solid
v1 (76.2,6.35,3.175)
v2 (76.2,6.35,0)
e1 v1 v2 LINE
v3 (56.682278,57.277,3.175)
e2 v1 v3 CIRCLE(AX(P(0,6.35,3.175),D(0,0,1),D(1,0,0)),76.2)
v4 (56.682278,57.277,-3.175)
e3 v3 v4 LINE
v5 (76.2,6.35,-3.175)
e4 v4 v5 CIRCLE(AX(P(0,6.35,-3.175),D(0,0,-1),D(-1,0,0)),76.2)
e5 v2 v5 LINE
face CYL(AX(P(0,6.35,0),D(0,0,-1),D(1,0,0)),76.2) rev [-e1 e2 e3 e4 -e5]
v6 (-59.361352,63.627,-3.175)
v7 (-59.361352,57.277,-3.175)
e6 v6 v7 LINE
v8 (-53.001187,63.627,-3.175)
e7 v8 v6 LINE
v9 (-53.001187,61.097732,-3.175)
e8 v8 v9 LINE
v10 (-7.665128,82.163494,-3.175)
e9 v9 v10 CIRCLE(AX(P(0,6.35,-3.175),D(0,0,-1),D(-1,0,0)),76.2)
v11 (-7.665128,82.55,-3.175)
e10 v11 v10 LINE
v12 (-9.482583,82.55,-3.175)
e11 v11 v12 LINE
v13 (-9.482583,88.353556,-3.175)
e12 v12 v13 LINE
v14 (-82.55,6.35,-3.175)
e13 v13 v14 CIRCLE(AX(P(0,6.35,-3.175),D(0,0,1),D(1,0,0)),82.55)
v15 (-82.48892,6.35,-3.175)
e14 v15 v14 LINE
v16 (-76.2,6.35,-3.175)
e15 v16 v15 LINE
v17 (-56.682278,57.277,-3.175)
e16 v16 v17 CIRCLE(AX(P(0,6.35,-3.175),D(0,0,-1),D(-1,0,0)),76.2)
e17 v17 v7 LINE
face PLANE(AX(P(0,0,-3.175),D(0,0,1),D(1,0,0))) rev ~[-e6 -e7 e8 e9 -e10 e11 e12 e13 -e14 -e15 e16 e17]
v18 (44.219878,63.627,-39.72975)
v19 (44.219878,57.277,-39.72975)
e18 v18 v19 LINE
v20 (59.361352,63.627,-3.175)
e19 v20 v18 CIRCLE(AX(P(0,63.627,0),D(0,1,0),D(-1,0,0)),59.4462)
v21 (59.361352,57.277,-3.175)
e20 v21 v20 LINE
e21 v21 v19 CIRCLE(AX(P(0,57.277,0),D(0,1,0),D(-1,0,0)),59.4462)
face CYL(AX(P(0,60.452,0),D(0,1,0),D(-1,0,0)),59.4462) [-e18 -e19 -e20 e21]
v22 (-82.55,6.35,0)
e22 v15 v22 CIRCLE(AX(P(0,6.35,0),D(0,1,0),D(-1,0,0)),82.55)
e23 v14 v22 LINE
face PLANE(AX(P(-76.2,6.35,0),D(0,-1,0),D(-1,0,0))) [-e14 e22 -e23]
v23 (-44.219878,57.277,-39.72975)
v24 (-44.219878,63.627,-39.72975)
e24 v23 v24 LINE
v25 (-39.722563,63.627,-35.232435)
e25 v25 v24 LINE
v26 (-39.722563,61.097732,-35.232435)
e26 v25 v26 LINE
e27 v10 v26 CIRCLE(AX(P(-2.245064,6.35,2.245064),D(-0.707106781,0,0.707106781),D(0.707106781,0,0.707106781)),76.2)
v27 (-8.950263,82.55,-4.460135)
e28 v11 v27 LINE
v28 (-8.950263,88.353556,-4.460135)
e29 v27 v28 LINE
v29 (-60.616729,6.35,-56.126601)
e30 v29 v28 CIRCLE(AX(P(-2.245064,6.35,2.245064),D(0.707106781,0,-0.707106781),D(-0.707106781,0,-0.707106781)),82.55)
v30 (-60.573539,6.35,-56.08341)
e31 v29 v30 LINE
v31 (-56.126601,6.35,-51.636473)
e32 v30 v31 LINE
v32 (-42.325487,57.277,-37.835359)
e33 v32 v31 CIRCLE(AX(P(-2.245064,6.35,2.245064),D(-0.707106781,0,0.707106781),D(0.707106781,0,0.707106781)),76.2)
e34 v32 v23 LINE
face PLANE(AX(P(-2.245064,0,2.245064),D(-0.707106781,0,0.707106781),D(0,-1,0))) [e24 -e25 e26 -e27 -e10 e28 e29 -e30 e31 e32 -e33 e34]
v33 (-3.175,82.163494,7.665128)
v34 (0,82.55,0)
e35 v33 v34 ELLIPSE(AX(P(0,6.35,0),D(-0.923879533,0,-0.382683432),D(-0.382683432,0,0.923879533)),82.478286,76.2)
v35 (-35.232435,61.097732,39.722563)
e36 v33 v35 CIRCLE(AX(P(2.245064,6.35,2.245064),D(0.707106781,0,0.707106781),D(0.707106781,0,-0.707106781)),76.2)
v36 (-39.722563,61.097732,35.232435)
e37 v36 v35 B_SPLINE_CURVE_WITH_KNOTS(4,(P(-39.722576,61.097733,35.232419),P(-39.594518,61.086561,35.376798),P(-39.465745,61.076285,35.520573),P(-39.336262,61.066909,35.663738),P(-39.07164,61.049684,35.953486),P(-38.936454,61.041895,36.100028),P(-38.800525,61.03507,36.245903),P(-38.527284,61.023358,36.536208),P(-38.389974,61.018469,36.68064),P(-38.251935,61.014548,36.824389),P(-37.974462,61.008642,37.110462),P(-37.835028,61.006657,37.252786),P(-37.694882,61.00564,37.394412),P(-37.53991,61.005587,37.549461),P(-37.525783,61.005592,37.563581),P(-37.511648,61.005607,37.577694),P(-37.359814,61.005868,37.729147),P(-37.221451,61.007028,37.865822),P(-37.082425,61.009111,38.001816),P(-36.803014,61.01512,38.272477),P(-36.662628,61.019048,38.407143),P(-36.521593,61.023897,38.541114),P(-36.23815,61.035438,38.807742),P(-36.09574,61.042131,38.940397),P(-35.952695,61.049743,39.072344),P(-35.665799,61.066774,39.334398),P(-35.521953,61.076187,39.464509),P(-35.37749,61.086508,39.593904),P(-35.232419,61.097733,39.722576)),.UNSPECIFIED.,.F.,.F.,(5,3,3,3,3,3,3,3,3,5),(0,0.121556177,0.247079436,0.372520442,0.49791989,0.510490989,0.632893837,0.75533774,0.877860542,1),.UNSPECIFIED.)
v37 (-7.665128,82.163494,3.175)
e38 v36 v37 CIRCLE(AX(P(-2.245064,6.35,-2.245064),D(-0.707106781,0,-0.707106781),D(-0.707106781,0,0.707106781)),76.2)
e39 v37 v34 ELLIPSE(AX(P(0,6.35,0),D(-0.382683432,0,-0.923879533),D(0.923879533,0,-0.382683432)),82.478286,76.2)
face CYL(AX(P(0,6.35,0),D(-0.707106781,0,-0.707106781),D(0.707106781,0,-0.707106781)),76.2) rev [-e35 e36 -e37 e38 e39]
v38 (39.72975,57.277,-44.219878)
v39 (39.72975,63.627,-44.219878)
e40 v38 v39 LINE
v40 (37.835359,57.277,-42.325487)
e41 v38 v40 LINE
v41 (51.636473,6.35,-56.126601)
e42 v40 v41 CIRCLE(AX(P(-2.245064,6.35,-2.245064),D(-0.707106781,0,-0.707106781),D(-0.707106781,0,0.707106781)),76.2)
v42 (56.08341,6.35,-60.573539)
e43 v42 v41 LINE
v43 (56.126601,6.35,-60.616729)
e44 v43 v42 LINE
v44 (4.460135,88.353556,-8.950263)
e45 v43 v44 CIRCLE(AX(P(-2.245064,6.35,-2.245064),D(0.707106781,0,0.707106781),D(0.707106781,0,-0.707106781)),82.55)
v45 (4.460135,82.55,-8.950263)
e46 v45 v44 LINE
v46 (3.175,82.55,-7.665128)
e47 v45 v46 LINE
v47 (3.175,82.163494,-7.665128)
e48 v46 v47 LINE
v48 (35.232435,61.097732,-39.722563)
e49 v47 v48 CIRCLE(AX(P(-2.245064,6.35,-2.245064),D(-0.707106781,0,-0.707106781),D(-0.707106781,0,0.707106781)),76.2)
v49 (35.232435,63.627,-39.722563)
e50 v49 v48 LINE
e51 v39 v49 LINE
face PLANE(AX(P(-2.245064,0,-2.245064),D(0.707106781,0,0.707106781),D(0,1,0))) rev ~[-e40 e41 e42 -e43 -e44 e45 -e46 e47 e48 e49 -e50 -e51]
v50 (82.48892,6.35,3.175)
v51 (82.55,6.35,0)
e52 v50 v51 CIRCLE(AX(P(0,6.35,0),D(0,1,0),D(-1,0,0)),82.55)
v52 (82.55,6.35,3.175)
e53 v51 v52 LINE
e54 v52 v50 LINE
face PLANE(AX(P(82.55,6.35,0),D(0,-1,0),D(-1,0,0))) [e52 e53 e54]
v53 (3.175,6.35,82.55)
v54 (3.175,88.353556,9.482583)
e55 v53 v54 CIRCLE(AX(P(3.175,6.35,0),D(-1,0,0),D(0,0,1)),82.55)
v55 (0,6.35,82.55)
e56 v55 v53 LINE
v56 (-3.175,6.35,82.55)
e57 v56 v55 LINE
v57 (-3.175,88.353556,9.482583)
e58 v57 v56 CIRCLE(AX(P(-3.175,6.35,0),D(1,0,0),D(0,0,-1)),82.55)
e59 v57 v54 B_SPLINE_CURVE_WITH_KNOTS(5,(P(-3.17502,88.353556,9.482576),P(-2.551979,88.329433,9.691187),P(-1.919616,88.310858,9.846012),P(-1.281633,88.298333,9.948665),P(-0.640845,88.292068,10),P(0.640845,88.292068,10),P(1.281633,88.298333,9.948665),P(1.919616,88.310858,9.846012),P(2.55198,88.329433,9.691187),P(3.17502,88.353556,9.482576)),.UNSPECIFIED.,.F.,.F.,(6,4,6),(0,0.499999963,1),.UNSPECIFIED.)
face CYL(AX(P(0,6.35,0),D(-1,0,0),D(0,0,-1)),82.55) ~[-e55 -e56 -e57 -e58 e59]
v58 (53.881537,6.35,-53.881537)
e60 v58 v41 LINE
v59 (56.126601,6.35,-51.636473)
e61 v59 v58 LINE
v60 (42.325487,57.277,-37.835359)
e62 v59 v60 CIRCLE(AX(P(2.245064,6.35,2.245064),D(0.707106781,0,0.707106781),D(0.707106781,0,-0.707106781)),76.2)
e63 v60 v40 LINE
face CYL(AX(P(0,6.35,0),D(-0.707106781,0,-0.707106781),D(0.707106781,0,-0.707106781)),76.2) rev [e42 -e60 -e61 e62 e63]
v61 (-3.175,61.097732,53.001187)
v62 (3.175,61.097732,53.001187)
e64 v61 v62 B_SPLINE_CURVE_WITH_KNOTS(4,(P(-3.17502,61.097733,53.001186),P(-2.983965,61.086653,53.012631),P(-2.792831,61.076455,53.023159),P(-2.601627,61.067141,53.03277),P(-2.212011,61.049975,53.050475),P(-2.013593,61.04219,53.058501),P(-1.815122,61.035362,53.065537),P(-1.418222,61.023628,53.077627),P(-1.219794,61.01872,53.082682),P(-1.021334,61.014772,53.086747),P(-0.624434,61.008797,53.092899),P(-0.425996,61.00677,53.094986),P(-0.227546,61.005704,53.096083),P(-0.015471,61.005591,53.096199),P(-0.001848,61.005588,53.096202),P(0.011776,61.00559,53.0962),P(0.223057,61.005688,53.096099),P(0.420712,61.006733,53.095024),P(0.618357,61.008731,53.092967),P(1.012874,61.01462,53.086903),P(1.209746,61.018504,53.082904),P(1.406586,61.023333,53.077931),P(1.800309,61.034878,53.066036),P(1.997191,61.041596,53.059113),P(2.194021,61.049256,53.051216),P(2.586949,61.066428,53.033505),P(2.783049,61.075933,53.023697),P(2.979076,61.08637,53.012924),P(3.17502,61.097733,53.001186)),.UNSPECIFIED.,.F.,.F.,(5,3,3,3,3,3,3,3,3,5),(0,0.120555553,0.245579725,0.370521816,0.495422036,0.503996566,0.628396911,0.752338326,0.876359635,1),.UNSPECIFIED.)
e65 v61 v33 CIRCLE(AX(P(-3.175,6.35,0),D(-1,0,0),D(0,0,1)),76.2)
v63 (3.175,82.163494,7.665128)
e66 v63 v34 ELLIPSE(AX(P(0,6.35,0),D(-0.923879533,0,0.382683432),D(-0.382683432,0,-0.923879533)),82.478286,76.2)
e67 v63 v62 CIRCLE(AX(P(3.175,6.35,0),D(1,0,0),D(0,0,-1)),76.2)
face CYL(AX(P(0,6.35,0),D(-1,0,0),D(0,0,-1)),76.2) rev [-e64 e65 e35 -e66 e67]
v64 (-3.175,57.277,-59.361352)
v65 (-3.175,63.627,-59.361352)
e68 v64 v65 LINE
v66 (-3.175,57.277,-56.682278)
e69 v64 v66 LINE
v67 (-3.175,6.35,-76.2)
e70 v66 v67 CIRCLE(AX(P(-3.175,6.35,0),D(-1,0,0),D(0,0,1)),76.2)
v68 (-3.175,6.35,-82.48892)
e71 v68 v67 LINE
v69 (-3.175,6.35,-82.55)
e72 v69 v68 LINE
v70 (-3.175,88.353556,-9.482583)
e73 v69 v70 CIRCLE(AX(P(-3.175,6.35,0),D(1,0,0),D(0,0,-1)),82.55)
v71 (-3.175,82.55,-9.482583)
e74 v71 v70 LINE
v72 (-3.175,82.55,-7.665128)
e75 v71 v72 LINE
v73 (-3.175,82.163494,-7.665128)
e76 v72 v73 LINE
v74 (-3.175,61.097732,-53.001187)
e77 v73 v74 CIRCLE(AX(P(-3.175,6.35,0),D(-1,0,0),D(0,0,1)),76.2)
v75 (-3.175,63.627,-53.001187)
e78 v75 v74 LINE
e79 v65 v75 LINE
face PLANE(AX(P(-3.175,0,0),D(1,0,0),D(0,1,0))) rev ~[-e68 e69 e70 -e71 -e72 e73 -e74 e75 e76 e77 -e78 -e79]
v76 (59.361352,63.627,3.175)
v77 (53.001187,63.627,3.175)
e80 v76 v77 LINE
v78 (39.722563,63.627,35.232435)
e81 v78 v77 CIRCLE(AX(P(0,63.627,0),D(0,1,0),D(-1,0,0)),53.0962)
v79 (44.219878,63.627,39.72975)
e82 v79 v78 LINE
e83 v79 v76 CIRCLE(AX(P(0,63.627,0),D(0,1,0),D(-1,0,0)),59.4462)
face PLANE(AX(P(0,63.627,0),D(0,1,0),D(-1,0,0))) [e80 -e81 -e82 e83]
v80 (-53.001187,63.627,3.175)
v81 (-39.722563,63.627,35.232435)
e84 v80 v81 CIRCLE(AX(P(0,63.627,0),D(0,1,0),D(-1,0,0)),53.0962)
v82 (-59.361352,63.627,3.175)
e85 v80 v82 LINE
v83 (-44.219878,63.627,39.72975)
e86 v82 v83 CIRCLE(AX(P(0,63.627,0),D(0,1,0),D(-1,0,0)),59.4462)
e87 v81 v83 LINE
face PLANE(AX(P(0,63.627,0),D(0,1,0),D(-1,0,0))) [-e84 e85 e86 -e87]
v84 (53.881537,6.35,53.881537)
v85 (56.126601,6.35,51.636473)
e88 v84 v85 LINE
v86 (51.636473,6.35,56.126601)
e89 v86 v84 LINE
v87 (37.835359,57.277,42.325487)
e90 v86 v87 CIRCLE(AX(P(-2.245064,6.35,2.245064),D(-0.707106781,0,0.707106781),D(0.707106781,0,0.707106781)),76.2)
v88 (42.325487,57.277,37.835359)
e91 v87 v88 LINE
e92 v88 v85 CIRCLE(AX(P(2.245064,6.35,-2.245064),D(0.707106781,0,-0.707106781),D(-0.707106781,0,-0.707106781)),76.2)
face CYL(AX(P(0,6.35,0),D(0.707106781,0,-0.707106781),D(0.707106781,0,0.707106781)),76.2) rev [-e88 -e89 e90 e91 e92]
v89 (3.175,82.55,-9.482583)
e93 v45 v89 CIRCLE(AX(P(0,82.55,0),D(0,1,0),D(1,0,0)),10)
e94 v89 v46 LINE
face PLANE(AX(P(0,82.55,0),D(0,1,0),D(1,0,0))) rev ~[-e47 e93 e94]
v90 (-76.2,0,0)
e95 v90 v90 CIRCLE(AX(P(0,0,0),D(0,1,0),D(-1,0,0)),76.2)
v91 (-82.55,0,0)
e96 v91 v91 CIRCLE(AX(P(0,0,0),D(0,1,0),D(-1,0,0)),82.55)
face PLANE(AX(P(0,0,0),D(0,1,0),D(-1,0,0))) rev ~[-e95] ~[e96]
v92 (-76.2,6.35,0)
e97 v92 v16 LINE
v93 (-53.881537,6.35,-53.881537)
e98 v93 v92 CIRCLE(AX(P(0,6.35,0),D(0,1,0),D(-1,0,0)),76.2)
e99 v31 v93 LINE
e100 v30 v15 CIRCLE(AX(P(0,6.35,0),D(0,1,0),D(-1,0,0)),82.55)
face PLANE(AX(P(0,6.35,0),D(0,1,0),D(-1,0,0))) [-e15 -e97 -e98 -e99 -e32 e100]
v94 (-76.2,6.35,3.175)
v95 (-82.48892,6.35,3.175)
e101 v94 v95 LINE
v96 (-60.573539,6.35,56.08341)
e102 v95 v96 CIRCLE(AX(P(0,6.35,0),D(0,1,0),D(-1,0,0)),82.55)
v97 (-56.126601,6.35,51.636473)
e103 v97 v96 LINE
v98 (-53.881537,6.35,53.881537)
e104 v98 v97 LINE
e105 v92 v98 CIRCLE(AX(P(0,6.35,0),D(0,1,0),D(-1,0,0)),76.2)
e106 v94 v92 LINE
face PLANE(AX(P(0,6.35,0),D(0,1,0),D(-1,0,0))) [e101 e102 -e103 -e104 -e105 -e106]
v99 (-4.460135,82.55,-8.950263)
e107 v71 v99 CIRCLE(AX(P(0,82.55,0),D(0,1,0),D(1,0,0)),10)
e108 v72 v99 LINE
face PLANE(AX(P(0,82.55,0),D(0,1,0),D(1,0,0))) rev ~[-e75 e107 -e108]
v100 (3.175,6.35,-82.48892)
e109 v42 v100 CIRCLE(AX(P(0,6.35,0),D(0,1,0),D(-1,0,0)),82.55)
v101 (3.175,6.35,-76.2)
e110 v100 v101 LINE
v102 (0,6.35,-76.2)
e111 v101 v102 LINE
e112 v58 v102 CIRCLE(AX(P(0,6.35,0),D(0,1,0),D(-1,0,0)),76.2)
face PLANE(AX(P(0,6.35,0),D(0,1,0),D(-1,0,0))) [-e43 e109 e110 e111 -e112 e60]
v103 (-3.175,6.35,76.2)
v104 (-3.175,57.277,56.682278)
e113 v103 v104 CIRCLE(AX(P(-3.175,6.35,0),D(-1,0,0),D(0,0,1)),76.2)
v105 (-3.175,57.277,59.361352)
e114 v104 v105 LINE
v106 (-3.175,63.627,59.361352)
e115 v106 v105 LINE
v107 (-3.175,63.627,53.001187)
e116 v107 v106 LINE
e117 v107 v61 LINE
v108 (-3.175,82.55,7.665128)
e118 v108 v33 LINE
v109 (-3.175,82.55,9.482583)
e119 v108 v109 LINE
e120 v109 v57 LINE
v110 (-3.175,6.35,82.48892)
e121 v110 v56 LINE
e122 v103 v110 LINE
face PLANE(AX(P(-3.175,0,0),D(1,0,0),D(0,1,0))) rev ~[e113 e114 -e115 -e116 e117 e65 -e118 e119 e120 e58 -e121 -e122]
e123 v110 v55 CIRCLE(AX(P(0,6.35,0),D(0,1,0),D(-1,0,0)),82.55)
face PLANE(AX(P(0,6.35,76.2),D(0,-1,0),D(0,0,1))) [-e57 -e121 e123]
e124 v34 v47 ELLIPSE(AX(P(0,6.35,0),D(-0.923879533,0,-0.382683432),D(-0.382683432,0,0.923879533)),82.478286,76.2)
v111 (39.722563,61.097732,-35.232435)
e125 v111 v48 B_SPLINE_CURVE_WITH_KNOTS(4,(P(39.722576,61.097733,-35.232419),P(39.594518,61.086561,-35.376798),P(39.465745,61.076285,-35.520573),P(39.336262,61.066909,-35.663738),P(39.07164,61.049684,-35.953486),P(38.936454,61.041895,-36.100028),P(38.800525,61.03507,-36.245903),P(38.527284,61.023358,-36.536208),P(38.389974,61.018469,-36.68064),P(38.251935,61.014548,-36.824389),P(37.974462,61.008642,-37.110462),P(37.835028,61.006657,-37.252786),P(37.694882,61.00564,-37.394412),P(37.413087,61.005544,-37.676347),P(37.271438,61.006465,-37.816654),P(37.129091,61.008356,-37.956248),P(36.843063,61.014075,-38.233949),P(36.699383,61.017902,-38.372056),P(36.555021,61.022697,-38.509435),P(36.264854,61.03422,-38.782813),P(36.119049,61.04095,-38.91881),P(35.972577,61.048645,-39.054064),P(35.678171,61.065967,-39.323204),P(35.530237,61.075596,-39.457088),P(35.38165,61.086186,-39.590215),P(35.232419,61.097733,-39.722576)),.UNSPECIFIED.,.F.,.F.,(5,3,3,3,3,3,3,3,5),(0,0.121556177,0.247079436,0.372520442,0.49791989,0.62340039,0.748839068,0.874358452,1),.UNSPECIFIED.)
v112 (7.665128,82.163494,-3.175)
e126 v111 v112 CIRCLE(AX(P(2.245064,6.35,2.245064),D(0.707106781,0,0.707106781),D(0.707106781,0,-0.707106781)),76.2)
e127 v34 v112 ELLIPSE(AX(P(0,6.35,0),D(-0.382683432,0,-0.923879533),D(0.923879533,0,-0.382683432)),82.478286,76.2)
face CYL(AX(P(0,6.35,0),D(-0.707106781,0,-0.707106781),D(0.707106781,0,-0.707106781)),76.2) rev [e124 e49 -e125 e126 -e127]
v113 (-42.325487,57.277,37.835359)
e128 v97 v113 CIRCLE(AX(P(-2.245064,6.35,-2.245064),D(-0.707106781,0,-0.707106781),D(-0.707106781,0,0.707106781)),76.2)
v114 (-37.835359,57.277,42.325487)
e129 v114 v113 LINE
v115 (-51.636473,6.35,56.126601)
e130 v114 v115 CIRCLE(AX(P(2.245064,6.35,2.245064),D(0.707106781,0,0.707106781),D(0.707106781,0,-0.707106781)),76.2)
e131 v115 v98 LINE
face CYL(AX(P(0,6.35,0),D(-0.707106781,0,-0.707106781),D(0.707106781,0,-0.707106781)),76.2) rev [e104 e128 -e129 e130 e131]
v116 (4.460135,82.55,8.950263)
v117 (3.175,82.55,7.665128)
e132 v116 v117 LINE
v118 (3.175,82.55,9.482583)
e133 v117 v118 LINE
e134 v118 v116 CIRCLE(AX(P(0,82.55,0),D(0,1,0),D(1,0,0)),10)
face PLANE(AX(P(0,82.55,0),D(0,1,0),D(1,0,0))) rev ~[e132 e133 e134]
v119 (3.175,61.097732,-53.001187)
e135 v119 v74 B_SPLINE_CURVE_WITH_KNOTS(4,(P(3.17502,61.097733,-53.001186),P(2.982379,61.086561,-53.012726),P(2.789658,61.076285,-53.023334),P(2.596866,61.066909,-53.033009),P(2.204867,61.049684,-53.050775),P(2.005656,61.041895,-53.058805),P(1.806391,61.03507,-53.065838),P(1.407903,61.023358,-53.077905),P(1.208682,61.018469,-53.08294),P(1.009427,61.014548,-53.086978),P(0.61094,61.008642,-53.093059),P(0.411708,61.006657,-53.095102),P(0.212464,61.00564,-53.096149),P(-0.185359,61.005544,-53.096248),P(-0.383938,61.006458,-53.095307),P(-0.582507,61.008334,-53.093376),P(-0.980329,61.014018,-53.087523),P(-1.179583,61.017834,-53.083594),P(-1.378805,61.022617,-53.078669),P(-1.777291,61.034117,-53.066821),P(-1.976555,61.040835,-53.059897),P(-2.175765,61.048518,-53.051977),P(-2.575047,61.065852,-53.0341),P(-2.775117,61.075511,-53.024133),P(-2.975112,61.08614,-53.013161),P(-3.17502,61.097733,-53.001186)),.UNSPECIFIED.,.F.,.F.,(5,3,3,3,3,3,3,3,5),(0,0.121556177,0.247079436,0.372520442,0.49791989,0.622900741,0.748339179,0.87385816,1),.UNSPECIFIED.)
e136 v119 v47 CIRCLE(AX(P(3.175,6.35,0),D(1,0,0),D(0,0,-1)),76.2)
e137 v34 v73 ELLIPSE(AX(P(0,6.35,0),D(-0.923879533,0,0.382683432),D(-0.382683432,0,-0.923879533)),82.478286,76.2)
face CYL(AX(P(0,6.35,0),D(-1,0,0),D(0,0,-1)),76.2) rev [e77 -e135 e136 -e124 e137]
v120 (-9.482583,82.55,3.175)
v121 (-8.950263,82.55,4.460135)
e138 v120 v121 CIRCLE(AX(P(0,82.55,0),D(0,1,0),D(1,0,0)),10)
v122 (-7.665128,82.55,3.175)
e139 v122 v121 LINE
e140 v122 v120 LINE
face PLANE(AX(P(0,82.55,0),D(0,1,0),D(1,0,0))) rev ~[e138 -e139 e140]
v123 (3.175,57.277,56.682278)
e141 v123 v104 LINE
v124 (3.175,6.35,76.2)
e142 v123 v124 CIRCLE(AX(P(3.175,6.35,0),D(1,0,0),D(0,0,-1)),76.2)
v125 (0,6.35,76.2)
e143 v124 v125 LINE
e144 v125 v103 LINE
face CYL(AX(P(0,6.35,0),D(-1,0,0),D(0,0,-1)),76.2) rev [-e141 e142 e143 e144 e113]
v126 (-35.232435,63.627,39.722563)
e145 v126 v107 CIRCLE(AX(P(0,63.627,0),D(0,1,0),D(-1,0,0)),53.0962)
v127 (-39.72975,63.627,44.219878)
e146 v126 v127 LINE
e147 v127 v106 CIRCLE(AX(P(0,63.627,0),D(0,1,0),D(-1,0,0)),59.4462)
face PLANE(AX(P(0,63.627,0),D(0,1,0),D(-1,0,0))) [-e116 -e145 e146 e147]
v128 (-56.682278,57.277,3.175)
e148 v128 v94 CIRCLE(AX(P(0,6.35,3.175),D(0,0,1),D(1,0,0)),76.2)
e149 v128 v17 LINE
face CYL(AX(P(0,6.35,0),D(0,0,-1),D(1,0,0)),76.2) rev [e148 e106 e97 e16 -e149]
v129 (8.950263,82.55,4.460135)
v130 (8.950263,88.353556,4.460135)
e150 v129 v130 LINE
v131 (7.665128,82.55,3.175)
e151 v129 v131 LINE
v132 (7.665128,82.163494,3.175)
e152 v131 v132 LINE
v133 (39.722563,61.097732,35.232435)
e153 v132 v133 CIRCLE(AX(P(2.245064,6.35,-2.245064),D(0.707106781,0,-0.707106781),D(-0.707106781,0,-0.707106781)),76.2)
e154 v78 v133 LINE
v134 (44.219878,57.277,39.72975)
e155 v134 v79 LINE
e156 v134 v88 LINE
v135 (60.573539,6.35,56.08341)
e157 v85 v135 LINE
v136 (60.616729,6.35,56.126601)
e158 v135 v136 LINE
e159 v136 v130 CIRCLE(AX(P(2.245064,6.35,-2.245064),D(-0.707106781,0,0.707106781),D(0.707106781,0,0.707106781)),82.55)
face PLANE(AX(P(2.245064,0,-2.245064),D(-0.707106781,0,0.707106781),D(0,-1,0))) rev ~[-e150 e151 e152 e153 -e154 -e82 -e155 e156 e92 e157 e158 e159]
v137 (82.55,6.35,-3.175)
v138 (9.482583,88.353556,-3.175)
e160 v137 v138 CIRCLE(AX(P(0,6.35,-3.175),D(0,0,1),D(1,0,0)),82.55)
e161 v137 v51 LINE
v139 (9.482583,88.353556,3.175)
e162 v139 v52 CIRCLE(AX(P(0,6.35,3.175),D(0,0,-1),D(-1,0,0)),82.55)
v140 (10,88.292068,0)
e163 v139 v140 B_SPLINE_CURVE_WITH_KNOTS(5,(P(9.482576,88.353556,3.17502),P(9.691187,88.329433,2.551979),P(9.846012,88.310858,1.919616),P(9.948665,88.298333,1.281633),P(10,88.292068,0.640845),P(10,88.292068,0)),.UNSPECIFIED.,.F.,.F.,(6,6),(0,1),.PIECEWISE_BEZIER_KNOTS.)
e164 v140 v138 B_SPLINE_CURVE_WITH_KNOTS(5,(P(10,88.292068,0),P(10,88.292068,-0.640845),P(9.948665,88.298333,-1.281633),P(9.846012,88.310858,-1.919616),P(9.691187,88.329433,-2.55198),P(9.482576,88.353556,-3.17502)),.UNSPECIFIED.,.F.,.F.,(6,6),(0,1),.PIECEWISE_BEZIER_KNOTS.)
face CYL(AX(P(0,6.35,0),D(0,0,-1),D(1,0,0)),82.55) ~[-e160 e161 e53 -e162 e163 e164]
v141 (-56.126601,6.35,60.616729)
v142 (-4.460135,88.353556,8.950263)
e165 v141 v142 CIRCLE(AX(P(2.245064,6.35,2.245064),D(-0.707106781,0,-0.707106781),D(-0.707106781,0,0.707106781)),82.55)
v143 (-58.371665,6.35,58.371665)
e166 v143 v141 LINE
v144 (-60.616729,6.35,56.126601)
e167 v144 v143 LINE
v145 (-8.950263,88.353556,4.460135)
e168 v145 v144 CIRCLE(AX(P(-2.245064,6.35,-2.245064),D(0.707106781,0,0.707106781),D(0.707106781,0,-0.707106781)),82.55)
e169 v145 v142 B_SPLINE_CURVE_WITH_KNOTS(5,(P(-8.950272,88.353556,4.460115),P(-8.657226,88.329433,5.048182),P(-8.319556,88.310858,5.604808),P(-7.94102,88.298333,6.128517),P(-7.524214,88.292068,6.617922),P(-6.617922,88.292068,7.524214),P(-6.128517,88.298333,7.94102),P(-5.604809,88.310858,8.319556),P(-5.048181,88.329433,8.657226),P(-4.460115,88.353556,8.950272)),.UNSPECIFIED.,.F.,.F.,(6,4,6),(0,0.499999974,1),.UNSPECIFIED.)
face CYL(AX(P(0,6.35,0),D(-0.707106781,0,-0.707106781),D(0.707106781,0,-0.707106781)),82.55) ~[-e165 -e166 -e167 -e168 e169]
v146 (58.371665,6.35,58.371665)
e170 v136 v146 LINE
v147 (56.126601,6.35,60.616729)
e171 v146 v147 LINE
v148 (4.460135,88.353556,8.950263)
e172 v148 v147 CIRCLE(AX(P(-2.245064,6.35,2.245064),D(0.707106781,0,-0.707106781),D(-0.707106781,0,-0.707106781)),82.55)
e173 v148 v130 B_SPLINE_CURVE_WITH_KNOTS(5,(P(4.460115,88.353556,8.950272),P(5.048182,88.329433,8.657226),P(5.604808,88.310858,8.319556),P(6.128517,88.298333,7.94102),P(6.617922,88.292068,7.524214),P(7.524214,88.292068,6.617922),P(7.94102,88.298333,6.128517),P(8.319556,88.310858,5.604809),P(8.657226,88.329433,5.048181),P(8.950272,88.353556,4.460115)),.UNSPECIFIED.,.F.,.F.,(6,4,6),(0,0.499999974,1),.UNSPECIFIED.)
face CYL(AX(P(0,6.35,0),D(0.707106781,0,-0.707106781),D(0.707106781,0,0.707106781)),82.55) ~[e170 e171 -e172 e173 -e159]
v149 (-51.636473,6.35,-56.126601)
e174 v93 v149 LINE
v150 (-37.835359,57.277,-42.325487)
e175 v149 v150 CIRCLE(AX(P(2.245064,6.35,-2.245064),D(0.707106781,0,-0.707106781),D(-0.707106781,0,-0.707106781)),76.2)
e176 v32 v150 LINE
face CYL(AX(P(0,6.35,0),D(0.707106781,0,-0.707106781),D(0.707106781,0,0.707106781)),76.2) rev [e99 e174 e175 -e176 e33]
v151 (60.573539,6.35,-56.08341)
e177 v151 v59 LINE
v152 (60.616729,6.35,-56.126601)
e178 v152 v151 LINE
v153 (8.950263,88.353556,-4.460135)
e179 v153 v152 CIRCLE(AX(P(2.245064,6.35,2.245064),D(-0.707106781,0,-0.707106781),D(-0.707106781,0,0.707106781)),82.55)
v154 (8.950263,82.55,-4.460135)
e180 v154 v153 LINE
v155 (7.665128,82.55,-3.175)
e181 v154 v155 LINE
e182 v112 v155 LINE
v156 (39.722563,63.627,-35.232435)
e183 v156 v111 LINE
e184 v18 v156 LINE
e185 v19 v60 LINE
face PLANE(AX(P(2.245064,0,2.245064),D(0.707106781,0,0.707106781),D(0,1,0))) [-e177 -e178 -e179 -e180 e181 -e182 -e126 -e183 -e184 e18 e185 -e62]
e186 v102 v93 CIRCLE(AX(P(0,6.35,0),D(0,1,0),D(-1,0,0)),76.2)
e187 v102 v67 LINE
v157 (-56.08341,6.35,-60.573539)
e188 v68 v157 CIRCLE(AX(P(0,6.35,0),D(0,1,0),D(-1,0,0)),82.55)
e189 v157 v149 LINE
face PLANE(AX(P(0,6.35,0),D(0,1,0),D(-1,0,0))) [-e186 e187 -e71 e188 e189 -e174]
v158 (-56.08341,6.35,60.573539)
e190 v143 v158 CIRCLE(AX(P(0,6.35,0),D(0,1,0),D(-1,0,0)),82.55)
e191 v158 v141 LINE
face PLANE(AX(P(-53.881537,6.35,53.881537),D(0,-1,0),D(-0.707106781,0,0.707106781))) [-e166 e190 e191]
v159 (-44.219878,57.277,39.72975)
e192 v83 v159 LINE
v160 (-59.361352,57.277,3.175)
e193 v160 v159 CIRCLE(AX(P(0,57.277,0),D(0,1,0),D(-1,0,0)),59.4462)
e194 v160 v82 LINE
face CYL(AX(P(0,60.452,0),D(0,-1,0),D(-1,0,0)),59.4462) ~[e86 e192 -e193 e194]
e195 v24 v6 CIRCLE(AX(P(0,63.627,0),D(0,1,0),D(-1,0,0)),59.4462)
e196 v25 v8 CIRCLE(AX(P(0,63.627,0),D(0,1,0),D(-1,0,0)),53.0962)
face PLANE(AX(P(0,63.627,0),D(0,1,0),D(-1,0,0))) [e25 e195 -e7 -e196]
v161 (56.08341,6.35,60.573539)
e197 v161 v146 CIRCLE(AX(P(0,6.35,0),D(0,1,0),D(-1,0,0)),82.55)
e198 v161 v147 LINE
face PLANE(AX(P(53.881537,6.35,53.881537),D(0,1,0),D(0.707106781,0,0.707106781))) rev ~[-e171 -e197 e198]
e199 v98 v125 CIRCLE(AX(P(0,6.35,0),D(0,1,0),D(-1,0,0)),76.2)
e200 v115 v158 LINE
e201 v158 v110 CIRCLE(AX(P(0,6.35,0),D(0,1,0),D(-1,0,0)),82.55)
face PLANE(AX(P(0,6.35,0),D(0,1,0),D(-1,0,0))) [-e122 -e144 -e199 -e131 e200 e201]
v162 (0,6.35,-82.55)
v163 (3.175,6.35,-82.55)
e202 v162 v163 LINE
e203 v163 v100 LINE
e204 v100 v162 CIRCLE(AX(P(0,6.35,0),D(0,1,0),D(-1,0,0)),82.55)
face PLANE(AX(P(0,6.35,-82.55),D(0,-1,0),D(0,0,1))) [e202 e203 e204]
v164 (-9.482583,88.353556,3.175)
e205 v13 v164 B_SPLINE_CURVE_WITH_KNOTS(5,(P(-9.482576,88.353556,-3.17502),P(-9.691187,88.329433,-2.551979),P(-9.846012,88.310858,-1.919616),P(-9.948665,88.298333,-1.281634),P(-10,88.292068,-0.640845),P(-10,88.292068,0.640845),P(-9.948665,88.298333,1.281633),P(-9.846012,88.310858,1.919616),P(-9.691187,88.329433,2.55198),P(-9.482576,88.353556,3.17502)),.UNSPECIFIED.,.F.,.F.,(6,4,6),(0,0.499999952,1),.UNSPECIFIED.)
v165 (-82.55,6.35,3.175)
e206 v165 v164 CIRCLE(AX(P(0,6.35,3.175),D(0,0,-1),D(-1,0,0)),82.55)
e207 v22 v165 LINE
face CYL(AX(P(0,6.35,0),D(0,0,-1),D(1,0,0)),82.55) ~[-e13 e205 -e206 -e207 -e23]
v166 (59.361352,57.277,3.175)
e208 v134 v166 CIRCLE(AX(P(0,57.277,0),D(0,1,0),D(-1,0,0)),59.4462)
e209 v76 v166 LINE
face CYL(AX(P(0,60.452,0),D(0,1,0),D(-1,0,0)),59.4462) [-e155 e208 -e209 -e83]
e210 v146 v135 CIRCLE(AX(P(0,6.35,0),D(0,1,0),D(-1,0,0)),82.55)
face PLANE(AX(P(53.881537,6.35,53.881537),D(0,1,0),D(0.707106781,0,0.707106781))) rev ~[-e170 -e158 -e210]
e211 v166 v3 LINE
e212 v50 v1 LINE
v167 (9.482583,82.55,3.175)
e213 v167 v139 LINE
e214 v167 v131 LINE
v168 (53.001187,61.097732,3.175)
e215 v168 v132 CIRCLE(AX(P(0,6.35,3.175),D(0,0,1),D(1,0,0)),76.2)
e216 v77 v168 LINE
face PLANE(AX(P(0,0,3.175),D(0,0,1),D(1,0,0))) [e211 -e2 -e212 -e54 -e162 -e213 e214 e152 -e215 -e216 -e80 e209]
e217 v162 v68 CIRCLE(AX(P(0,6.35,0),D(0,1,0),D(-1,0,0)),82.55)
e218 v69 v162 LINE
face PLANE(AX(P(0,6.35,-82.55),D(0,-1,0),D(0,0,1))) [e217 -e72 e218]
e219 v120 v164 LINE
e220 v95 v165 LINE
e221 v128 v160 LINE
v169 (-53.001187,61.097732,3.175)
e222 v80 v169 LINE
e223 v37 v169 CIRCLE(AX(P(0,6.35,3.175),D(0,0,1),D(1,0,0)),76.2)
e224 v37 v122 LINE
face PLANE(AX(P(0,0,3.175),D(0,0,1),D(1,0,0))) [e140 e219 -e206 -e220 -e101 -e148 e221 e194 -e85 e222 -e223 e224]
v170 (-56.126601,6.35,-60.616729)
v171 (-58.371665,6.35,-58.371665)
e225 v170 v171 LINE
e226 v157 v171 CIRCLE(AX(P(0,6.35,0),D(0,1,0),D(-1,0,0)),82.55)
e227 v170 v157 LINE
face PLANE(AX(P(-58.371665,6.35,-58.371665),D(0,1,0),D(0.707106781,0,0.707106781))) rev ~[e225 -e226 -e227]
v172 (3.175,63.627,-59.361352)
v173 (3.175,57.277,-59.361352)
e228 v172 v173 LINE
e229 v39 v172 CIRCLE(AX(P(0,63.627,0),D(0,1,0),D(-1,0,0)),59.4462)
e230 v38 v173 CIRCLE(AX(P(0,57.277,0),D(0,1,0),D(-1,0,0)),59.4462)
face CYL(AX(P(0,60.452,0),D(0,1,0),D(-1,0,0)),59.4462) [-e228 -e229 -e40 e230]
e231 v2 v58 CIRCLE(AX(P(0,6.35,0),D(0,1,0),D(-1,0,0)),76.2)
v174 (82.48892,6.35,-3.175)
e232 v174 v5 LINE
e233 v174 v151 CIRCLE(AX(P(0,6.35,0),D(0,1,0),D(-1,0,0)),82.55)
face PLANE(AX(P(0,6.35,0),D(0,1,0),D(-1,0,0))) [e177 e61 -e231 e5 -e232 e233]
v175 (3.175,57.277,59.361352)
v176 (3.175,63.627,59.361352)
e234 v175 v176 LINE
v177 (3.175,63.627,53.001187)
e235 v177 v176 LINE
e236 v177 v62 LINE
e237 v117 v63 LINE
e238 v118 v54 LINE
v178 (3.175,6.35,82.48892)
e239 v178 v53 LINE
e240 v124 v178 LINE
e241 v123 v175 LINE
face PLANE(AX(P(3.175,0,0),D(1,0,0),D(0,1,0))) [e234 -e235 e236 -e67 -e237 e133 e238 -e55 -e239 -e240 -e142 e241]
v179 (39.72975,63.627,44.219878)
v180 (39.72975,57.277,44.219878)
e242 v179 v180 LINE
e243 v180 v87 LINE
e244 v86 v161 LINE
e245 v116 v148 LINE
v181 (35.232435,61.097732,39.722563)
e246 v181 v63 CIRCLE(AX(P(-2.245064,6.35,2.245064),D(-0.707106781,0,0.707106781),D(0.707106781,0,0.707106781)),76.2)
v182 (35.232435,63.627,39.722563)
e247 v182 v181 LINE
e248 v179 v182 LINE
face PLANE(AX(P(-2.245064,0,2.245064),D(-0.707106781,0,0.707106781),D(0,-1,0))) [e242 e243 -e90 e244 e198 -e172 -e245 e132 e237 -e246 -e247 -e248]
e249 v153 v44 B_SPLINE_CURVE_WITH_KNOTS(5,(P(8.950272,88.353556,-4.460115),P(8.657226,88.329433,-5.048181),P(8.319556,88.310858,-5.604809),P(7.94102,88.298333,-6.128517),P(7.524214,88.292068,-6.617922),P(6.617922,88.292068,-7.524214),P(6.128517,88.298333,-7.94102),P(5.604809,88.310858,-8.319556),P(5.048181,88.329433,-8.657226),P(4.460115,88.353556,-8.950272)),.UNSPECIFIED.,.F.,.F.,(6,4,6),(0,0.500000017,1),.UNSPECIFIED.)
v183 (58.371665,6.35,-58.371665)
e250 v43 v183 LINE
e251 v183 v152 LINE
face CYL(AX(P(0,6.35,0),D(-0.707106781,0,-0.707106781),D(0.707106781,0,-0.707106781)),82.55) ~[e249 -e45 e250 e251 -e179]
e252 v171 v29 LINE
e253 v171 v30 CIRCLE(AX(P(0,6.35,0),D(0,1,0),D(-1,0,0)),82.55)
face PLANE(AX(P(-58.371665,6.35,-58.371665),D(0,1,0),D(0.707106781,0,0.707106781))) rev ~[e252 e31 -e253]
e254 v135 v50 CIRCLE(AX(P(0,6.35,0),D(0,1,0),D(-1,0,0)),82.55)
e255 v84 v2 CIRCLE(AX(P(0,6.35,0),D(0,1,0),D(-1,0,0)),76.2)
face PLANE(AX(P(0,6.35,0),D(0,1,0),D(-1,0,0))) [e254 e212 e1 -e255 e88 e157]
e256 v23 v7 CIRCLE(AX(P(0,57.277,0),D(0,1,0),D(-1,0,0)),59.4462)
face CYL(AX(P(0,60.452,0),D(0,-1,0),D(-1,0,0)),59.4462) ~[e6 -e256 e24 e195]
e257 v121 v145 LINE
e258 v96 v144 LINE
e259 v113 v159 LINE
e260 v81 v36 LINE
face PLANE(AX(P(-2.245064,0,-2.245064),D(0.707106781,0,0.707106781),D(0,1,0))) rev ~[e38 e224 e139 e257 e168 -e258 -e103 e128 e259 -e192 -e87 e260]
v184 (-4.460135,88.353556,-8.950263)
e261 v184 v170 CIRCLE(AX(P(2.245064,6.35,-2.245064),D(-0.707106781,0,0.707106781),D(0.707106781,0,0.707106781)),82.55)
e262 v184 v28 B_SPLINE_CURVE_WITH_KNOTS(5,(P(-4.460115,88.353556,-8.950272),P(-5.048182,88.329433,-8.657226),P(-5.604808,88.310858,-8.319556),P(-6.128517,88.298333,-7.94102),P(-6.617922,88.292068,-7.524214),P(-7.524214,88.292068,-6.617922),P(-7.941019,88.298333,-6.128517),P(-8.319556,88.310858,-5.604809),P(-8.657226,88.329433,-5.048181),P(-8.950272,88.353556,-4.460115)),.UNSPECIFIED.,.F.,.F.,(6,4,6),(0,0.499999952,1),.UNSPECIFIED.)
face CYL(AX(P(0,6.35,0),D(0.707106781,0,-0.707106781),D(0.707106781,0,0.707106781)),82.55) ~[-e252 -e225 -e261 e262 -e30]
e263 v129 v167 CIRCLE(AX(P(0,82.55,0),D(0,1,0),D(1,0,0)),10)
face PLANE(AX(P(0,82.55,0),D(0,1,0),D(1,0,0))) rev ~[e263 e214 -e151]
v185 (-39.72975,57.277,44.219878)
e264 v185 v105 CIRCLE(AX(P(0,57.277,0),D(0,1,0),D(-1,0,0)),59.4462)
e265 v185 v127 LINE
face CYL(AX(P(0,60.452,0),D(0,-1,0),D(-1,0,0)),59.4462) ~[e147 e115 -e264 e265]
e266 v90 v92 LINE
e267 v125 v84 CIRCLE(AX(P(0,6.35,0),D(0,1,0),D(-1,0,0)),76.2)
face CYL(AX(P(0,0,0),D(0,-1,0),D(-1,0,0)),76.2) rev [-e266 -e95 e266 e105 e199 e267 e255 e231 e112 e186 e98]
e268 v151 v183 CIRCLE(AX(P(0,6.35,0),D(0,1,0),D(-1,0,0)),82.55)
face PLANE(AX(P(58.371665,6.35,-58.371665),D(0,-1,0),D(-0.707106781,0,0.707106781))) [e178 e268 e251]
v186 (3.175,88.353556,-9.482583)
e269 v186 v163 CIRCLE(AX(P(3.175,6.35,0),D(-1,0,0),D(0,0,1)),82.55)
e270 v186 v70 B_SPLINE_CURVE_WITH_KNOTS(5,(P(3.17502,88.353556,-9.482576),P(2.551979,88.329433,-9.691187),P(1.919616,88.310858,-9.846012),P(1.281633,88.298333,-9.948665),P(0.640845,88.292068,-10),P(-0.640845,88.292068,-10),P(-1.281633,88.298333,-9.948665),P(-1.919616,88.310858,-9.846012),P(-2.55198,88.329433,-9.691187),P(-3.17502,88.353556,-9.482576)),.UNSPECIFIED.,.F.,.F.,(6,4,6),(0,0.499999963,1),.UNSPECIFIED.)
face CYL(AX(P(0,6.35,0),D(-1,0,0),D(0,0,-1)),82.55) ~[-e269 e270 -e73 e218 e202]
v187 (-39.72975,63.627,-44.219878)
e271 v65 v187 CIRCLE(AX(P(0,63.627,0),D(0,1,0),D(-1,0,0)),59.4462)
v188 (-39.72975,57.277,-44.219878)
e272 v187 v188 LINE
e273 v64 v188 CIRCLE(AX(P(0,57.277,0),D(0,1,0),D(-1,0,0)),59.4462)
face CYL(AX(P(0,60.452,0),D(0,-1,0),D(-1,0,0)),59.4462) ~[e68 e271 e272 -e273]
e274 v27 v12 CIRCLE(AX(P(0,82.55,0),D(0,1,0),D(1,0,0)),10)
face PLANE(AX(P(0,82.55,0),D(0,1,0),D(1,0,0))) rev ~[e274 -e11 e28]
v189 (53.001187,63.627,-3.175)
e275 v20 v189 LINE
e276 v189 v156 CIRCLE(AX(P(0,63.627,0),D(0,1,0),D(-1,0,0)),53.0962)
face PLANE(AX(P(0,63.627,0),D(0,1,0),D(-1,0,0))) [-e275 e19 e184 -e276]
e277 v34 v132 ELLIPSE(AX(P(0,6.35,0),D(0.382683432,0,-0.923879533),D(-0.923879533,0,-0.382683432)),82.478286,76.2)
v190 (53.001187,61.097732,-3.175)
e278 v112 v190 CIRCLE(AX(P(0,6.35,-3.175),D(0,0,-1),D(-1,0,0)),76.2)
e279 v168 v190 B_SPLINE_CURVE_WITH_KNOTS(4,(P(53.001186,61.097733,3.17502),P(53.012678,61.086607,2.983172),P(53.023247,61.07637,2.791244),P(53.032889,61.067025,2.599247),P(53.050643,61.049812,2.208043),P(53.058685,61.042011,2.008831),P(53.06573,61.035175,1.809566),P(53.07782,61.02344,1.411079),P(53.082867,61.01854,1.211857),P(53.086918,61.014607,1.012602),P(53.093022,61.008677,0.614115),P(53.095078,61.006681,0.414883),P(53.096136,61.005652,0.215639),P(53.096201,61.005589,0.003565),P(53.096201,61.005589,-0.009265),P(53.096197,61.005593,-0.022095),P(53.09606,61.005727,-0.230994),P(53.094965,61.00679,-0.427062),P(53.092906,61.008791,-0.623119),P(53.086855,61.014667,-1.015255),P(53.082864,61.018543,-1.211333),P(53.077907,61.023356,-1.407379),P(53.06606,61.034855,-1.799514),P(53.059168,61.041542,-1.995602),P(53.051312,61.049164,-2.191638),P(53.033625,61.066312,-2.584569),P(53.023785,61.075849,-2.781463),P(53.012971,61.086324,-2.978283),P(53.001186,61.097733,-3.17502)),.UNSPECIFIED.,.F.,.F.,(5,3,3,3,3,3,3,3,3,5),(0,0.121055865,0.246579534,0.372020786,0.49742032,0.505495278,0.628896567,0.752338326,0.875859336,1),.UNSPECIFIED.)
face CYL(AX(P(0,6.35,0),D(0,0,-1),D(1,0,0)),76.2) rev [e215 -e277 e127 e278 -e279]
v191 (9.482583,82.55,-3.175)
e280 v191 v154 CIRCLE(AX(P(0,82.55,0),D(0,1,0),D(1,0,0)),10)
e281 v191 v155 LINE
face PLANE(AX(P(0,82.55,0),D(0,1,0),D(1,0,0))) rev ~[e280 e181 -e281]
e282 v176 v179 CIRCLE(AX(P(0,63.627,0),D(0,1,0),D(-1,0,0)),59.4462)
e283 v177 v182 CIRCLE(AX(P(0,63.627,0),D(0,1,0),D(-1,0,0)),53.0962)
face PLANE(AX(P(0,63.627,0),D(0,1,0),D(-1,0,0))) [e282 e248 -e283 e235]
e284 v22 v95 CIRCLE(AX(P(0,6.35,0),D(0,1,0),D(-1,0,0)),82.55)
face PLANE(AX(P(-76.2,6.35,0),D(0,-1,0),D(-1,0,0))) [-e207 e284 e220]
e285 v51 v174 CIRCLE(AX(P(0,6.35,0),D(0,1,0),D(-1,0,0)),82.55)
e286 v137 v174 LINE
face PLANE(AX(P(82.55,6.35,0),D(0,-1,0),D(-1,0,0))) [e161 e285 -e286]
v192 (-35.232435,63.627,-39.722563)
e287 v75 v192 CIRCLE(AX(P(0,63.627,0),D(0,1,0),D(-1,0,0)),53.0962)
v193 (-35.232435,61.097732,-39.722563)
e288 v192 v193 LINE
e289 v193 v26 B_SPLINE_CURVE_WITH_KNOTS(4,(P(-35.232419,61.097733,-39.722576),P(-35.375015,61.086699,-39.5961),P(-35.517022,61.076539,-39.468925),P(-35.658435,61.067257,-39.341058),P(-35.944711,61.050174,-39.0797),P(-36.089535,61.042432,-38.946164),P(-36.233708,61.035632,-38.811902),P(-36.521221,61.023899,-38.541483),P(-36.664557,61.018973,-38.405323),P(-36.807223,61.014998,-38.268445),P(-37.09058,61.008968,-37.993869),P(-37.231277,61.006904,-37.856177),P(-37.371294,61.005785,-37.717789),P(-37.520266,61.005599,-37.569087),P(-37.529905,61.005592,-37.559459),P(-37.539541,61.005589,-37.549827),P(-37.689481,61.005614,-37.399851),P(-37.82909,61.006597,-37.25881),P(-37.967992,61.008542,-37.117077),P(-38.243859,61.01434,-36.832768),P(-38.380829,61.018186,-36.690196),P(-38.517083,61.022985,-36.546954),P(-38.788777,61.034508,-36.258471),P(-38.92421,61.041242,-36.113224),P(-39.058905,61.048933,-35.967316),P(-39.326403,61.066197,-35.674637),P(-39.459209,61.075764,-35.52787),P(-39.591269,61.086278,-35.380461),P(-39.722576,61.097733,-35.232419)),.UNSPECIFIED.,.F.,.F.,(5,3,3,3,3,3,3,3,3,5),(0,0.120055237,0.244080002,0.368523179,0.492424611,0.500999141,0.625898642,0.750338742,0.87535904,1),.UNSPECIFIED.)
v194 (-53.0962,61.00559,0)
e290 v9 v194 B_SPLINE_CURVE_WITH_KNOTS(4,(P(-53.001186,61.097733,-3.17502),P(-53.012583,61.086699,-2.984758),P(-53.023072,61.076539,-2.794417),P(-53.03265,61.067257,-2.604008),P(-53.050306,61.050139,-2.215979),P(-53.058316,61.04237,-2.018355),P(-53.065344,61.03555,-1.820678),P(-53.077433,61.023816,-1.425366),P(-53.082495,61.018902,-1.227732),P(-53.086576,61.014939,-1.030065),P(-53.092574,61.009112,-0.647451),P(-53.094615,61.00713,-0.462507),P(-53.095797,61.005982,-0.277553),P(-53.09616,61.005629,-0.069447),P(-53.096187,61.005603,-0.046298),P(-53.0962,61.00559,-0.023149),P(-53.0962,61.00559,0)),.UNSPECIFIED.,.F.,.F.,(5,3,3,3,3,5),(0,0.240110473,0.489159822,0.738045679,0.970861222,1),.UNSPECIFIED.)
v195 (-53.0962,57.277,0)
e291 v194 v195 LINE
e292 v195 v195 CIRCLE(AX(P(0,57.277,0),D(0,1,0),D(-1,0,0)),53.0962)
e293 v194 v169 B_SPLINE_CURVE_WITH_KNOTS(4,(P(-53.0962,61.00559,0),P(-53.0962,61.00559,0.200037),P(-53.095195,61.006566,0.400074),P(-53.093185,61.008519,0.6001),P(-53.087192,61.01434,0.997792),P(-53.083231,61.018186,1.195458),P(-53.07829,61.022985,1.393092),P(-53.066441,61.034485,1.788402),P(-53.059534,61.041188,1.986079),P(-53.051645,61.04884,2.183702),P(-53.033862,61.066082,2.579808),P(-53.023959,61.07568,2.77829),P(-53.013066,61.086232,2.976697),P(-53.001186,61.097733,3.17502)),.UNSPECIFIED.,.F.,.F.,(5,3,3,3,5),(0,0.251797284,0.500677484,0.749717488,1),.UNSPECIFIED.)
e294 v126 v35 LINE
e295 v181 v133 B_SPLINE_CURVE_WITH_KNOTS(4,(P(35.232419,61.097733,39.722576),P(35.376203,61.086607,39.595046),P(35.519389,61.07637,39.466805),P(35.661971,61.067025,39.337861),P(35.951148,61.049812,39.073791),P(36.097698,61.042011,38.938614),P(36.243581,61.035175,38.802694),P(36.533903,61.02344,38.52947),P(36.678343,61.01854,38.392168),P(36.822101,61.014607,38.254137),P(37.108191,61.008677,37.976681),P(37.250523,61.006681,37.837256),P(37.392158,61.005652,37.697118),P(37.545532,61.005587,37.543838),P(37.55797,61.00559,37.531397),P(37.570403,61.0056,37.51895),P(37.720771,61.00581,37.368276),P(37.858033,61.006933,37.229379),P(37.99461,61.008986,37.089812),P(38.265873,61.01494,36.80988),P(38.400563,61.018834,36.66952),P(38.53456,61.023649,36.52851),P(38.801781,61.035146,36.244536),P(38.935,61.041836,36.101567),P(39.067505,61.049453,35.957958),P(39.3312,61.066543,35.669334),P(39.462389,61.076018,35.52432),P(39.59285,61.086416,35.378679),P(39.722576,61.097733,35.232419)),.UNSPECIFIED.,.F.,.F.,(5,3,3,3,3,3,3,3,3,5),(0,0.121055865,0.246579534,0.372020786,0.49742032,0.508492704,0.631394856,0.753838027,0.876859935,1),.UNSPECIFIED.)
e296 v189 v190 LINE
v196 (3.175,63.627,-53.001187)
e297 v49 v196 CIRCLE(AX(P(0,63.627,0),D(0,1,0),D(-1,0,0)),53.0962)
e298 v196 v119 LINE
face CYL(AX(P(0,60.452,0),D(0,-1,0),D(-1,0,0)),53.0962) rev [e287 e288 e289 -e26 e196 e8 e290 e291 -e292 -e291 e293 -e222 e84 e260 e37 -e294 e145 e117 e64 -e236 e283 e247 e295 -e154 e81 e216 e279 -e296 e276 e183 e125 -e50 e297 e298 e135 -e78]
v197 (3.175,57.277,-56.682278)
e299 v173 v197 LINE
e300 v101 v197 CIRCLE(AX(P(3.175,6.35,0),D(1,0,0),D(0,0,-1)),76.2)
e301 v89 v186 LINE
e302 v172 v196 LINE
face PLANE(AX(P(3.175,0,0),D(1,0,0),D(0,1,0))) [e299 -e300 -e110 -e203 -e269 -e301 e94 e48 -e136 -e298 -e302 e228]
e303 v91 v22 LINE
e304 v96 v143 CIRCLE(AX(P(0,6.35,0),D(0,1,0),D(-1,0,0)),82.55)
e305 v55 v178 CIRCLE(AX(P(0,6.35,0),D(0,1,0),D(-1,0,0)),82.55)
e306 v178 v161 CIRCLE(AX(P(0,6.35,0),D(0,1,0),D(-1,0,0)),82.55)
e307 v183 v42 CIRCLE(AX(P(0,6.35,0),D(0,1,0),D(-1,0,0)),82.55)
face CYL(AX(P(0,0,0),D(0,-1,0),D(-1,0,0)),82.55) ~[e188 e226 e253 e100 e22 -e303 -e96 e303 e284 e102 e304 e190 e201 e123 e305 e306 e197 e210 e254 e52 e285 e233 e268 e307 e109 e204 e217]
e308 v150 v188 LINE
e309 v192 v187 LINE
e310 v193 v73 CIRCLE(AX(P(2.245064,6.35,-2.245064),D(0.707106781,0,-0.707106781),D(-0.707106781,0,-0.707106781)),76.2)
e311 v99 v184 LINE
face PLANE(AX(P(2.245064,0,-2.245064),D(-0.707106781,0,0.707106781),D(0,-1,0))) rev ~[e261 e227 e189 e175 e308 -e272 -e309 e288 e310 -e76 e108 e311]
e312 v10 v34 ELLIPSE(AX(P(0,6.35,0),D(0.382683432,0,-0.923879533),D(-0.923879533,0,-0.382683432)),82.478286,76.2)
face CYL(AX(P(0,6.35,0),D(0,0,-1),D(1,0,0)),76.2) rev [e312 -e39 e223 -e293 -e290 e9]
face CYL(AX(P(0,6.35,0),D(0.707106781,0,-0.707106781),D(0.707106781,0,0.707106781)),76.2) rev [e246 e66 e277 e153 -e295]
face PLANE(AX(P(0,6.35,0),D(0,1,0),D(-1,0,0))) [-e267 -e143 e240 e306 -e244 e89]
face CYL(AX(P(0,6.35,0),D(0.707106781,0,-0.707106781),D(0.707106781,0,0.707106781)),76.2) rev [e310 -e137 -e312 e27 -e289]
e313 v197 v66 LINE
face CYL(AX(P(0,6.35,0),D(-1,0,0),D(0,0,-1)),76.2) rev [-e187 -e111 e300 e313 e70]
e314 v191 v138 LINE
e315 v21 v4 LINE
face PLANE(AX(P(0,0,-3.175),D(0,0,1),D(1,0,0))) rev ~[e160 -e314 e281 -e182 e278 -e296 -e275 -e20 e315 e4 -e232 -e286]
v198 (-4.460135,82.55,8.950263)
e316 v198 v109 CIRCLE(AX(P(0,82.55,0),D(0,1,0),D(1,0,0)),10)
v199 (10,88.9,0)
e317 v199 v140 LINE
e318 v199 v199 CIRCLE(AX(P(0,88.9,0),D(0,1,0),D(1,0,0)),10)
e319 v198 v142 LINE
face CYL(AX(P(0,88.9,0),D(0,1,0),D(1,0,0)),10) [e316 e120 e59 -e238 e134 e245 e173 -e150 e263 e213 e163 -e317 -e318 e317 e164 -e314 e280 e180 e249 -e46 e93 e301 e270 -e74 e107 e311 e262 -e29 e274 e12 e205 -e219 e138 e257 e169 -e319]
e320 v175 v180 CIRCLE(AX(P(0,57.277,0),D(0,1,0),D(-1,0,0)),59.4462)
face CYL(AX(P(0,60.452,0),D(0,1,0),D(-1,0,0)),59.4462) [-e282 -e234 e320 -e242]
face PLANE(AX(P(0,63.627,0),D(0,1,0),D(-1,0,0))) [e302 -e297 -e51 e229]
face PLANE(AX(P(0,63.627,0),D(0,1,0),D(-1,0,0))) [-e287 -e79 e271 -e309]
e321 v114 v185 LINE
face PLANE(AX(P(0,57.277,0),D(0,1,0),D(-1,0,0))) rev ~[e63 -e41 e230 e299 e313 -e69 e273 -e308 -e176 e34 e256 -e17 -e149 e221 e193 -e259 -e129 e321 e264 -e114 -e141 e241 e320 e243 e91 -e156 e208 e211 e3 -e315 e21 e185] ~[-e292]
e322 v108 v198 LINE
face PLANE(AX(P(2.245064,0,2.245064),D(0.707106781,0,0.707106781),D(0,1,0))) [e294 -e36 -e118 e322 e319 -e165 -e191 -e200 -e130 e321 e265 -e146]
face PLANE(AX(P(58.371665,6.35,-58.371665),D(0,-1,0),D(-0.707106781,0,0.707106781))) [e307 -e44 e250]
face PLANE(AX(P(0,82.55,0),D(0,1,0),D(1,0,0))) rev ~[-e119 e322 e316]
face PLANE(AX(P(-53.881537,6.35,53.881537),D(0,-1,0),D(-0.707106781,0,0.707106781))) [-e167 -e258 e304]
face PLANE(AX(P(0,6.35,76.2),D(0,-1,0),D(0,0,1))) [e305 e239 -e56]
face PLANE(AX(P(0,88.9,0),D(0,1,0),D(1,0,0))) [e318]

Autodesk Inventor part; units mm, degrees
sketch "200mm Measuring Ring" plane through (0, 0, 0) normal (0, 0, 1) x (1, 0, 0)
  circle A0 centre (0, 0) radius 100
  dimension "d4" = 200
sketch "Sketch1" plane through (0, 0, 0) normal (0, 1, 0) x (-1, 0, 0)
  circle A0 centre (0, 0) radius 82.55
  circle A1 centre (0, 0) radius 76.2
  dimension "base_outer_d" = 165.1
  dimension "base_inner_d" = 152.4
extrude "Extrusion1" add sketch "Sketch1" along normal blind 6.35
sketch "Sketch3" plane through (0, 0, 0) normal (1, 0, 0) x (0, 1, 0)
  line L0 (6.35, -82.55) -> (6.35, 82.55) projected
  arc A0 (88.9, 0) -> (6.35, 82.55) centre (6.35, 0) ccw
  line L1 (6.35, 0) -> (88.9, 0) construction
  line L2 (6.35, 0) -> (6.35, 82.55) construction
  arc A1 (82.55, 0) -> (6.35, 76.2) centre (6.35, 0) ccw
  arc A2 (6.35, -82.55) -> (88.9, 0) centre (6.35, 0) ccw
  arc A3 (6.35, -76.2) -> (82.55, 0) centre (6.35, 0) ccw
  line L3 (88.9, 0) -> (82.55, 0)
  line L4 (6.35, 82.55) -> (6.35, 76.2)
  line L5 (6.35, -82.55) -> (6.35, -76.2)
  line L6 (88.9, 0) -> (82.55, 0)
  point P0 (0, 0)
  point P1 (6.35, 76.2)
  dimension "d5" = 90
  dimension "d6" = 76.2
  dimension "d7" = 76.2
extrude "Extrusion2" add sketch "Sketch3" along normal mid plane 6.35 contours L0 A3 L3 A2 | L3 A1 L0 A0
sketch "Sketch4" plane through (0, 0, 0) normal (0, 0, 1) x (1, 0, 0)
  line L0 (82.55, 6.35) -> (-82.55, 6.35) projected
  arc A0 (0, 88.9) -> (-82.55, 6.35) centre (0, 6.35) ccw
  arc A1 (0, 82.55) -> (-76.2, 6.35) centre (0, 6.35) ccw
  line L1 (-82.55, 6.35) -> (-76.2, 6.35)
  line L2 (0, 88.9) -> (0, 82.55)
  arc A2 (82.55, 6.35) -> (0, 88.9) centre (0, 6.35) ccw
  arc A3 (76.2, 6.35) -> (0, 82.55) centre (0, 6.35) ccw
  line L3 (0, 88.9) -> (0, 82.55)
  line L4 (76.2, 6.35) -> (82.55, 6.35)
  line L5 (82.55, 6.35) -> (76.2, 6.35)
  line L6 (-76.2, 6.35) -> (-82.55, 6.35)
  line L7 (0, 88.9) -> (0, 82.55)
  point P0 (0, 0)
  dimension "d8" = 76.2
  dimension "d9" = 76.2
extrude "Extrusion3" add sketch "Sketch4" along normal mid plane 6.35 contours L0 A3 L2 A2 | L2 A1 L0 A0
ref_plane "Work Plane1" through (0, 0, 0) normal (-0.7071, 0, 0.7071) x (0, -1, 0)
sketch "Sketch5" plane through (0, 0, 0) normal (-0.7071, 0, 0.7071) x (0, -1, 0)
  line L0 (-6.35, -61.2311) -> (-6.35, 61.2311) projected
  line L1 (0, 82.55) -> (-6.35, 82.55) projected
  arc A0 (-6.35, 82.55) -> (-88.9, 0) centre (-6.35, 0) ccw
  line L2 (-6.35, 65.7212) -> (-6.35, 53.8815) projected
  arc A1 (-6.35, 76.2) -> (-82.55, 0) centre (-6.35, 0) ccw
  arc A2 (-88.9, 0) -> (-6.35, -82.55) centre (-6.35, 0) ccw
  arc A3 (-82.55, 0) -> (-6.35, -76.2) centre (-6.35, 0) ccw
  line L3 (-88.9, 0) -> (-82.55, 0)
  line L4 (-6.35, -82.55) -> (-6.35, -76.2)
  line L5 (-6.35, 76.2) -> (-6.35, 82.55)
  line L6 (0, 82.55) -> (0, -82.55) projected
  point P0 (0, 0)
  point P1 (-6.35, 89.825)
  point P2 (-6.35, -53.8815)
  point P3 (-82.55, 0)
  dimension "d14" = 76.2
  dimension "d15" = 76.2
extrude "Extrusion4" add sketch "Sketch5" along normal mid plane 6.35
ref_plane "Work Plane3" through (0, 0, 0) normal (0.7071, 0, 0.7071) x (0, 1, 0)
sketch "Sketch7" plane through (0, 0, 0) normal (0.7071, 0, 0.7071) x (0, 1, 0)
  line L0 (6.35, 0) -> (6.35, -53.8815) projected
  line L1 (6.35, -82.55) -> (6.35, -60.5735) projected
  arc A0 (6.35, -82.55) -> (88.9, 0) centre (6.35, 0) ccw
  arc A1 (6.35, -76.2) -> (82.55, 0) centre (6.35, 0) ccw
  line L2 (6.35, 60.5735) -> (6.35, 82.55) projected
  arc A2 (88.9, 0) -> (6.35, 82.55) centre (6.35, 0) ccw
  arc A3 (82.55, 0) -> (6.35, 76.2) centre (6.35, 0) ccw
  line L3 (88.9, 0) -> (82.55, 0)
  line L4 (6.35, -82.55) -> (6.35, -76.2)
  line L5 (6.35, 82.55) -> (6.35, 76.2)
  point P0 (82.55, 0)
  point P1 (6.35, -76.2)
  point P2 (6.35, 76.2)
  dimension "d27" = 76.2
  dimension "d28" = 76.2
extrude "Extrusion7" add sketch "Sketch7" along normal mid plane 6.35
ref_plane "Top Disk" through (0, 88.9, 0) normal (0, 1, 0) x (1, 0, 0)
sketch "Sketch8" plane through (0, 88.9, 0) normal (0, 1, 0) x (1, 0, 0)
  line L0 (3.175, -1.3151) -> (0, 0) projected
  circle A0 centre (0, 0) radius 10
  dimension "upper_example_d" = 20
extrude "Extrusion8" add sketch "Sketch8" against normal blind 6.35
ref_plane "Work Plane5" through (0, 60.452, 0) normal (0, 1, 0) x (-1, 0, 0)
sketch "Sketch9" plane through (0, 60.452, 0) normal (0, 1, 0) x (-1, 0, 0)
  line L0 (0, 0) -> (-7.6651, 3.175) projected
  circle A0 centre (0, 0) radius 59.4462
  line L1 (3.175, -7.6651) -> (0, 0) projected
  circle A1 centre (0, 0) radius 53.0962
  dimension "middle_outer_d" = 118.8923
  dimension "middle_inner_d" = 106.1924
extrude "Middle ring" add sketch "Sketch9" along normal mid plane 6.35
sketch "Sketch10" plane through (0, 0, 0) normal (0, 0, 1) x (1, 0, 0)
  line L0 (0, 0) -> (0, 60.452)
  dimension "height" = 60.452
sketch "Sketch13" plane through (0, 78.74, 0) normal (0, 1, 0) x (-1, 0, 0)
  line L0 (0, 0) -> (-7.6651, 3.175)
  circle A0 centre (0, 0) radius 33.233
  line L1 (3.175, -7.6651) -> (0, 0)
  circle A1 centre (0, 0) radius 26.883
  dimension "d49" = 66.466
  dimension "d48" = 53.766
sketch "Sketch11" plane through (0, 72.39, 0) normal (0, 1, 0) x (-1, 0, 0)
  line L0 (7.6651, 3.175) -> (0, 0) projected
  circle A0 centre (0, 0) radius 38.1
  dimension "d41" = 76.2
properties part number "Dome" material "Steel, Mild, Welded"
